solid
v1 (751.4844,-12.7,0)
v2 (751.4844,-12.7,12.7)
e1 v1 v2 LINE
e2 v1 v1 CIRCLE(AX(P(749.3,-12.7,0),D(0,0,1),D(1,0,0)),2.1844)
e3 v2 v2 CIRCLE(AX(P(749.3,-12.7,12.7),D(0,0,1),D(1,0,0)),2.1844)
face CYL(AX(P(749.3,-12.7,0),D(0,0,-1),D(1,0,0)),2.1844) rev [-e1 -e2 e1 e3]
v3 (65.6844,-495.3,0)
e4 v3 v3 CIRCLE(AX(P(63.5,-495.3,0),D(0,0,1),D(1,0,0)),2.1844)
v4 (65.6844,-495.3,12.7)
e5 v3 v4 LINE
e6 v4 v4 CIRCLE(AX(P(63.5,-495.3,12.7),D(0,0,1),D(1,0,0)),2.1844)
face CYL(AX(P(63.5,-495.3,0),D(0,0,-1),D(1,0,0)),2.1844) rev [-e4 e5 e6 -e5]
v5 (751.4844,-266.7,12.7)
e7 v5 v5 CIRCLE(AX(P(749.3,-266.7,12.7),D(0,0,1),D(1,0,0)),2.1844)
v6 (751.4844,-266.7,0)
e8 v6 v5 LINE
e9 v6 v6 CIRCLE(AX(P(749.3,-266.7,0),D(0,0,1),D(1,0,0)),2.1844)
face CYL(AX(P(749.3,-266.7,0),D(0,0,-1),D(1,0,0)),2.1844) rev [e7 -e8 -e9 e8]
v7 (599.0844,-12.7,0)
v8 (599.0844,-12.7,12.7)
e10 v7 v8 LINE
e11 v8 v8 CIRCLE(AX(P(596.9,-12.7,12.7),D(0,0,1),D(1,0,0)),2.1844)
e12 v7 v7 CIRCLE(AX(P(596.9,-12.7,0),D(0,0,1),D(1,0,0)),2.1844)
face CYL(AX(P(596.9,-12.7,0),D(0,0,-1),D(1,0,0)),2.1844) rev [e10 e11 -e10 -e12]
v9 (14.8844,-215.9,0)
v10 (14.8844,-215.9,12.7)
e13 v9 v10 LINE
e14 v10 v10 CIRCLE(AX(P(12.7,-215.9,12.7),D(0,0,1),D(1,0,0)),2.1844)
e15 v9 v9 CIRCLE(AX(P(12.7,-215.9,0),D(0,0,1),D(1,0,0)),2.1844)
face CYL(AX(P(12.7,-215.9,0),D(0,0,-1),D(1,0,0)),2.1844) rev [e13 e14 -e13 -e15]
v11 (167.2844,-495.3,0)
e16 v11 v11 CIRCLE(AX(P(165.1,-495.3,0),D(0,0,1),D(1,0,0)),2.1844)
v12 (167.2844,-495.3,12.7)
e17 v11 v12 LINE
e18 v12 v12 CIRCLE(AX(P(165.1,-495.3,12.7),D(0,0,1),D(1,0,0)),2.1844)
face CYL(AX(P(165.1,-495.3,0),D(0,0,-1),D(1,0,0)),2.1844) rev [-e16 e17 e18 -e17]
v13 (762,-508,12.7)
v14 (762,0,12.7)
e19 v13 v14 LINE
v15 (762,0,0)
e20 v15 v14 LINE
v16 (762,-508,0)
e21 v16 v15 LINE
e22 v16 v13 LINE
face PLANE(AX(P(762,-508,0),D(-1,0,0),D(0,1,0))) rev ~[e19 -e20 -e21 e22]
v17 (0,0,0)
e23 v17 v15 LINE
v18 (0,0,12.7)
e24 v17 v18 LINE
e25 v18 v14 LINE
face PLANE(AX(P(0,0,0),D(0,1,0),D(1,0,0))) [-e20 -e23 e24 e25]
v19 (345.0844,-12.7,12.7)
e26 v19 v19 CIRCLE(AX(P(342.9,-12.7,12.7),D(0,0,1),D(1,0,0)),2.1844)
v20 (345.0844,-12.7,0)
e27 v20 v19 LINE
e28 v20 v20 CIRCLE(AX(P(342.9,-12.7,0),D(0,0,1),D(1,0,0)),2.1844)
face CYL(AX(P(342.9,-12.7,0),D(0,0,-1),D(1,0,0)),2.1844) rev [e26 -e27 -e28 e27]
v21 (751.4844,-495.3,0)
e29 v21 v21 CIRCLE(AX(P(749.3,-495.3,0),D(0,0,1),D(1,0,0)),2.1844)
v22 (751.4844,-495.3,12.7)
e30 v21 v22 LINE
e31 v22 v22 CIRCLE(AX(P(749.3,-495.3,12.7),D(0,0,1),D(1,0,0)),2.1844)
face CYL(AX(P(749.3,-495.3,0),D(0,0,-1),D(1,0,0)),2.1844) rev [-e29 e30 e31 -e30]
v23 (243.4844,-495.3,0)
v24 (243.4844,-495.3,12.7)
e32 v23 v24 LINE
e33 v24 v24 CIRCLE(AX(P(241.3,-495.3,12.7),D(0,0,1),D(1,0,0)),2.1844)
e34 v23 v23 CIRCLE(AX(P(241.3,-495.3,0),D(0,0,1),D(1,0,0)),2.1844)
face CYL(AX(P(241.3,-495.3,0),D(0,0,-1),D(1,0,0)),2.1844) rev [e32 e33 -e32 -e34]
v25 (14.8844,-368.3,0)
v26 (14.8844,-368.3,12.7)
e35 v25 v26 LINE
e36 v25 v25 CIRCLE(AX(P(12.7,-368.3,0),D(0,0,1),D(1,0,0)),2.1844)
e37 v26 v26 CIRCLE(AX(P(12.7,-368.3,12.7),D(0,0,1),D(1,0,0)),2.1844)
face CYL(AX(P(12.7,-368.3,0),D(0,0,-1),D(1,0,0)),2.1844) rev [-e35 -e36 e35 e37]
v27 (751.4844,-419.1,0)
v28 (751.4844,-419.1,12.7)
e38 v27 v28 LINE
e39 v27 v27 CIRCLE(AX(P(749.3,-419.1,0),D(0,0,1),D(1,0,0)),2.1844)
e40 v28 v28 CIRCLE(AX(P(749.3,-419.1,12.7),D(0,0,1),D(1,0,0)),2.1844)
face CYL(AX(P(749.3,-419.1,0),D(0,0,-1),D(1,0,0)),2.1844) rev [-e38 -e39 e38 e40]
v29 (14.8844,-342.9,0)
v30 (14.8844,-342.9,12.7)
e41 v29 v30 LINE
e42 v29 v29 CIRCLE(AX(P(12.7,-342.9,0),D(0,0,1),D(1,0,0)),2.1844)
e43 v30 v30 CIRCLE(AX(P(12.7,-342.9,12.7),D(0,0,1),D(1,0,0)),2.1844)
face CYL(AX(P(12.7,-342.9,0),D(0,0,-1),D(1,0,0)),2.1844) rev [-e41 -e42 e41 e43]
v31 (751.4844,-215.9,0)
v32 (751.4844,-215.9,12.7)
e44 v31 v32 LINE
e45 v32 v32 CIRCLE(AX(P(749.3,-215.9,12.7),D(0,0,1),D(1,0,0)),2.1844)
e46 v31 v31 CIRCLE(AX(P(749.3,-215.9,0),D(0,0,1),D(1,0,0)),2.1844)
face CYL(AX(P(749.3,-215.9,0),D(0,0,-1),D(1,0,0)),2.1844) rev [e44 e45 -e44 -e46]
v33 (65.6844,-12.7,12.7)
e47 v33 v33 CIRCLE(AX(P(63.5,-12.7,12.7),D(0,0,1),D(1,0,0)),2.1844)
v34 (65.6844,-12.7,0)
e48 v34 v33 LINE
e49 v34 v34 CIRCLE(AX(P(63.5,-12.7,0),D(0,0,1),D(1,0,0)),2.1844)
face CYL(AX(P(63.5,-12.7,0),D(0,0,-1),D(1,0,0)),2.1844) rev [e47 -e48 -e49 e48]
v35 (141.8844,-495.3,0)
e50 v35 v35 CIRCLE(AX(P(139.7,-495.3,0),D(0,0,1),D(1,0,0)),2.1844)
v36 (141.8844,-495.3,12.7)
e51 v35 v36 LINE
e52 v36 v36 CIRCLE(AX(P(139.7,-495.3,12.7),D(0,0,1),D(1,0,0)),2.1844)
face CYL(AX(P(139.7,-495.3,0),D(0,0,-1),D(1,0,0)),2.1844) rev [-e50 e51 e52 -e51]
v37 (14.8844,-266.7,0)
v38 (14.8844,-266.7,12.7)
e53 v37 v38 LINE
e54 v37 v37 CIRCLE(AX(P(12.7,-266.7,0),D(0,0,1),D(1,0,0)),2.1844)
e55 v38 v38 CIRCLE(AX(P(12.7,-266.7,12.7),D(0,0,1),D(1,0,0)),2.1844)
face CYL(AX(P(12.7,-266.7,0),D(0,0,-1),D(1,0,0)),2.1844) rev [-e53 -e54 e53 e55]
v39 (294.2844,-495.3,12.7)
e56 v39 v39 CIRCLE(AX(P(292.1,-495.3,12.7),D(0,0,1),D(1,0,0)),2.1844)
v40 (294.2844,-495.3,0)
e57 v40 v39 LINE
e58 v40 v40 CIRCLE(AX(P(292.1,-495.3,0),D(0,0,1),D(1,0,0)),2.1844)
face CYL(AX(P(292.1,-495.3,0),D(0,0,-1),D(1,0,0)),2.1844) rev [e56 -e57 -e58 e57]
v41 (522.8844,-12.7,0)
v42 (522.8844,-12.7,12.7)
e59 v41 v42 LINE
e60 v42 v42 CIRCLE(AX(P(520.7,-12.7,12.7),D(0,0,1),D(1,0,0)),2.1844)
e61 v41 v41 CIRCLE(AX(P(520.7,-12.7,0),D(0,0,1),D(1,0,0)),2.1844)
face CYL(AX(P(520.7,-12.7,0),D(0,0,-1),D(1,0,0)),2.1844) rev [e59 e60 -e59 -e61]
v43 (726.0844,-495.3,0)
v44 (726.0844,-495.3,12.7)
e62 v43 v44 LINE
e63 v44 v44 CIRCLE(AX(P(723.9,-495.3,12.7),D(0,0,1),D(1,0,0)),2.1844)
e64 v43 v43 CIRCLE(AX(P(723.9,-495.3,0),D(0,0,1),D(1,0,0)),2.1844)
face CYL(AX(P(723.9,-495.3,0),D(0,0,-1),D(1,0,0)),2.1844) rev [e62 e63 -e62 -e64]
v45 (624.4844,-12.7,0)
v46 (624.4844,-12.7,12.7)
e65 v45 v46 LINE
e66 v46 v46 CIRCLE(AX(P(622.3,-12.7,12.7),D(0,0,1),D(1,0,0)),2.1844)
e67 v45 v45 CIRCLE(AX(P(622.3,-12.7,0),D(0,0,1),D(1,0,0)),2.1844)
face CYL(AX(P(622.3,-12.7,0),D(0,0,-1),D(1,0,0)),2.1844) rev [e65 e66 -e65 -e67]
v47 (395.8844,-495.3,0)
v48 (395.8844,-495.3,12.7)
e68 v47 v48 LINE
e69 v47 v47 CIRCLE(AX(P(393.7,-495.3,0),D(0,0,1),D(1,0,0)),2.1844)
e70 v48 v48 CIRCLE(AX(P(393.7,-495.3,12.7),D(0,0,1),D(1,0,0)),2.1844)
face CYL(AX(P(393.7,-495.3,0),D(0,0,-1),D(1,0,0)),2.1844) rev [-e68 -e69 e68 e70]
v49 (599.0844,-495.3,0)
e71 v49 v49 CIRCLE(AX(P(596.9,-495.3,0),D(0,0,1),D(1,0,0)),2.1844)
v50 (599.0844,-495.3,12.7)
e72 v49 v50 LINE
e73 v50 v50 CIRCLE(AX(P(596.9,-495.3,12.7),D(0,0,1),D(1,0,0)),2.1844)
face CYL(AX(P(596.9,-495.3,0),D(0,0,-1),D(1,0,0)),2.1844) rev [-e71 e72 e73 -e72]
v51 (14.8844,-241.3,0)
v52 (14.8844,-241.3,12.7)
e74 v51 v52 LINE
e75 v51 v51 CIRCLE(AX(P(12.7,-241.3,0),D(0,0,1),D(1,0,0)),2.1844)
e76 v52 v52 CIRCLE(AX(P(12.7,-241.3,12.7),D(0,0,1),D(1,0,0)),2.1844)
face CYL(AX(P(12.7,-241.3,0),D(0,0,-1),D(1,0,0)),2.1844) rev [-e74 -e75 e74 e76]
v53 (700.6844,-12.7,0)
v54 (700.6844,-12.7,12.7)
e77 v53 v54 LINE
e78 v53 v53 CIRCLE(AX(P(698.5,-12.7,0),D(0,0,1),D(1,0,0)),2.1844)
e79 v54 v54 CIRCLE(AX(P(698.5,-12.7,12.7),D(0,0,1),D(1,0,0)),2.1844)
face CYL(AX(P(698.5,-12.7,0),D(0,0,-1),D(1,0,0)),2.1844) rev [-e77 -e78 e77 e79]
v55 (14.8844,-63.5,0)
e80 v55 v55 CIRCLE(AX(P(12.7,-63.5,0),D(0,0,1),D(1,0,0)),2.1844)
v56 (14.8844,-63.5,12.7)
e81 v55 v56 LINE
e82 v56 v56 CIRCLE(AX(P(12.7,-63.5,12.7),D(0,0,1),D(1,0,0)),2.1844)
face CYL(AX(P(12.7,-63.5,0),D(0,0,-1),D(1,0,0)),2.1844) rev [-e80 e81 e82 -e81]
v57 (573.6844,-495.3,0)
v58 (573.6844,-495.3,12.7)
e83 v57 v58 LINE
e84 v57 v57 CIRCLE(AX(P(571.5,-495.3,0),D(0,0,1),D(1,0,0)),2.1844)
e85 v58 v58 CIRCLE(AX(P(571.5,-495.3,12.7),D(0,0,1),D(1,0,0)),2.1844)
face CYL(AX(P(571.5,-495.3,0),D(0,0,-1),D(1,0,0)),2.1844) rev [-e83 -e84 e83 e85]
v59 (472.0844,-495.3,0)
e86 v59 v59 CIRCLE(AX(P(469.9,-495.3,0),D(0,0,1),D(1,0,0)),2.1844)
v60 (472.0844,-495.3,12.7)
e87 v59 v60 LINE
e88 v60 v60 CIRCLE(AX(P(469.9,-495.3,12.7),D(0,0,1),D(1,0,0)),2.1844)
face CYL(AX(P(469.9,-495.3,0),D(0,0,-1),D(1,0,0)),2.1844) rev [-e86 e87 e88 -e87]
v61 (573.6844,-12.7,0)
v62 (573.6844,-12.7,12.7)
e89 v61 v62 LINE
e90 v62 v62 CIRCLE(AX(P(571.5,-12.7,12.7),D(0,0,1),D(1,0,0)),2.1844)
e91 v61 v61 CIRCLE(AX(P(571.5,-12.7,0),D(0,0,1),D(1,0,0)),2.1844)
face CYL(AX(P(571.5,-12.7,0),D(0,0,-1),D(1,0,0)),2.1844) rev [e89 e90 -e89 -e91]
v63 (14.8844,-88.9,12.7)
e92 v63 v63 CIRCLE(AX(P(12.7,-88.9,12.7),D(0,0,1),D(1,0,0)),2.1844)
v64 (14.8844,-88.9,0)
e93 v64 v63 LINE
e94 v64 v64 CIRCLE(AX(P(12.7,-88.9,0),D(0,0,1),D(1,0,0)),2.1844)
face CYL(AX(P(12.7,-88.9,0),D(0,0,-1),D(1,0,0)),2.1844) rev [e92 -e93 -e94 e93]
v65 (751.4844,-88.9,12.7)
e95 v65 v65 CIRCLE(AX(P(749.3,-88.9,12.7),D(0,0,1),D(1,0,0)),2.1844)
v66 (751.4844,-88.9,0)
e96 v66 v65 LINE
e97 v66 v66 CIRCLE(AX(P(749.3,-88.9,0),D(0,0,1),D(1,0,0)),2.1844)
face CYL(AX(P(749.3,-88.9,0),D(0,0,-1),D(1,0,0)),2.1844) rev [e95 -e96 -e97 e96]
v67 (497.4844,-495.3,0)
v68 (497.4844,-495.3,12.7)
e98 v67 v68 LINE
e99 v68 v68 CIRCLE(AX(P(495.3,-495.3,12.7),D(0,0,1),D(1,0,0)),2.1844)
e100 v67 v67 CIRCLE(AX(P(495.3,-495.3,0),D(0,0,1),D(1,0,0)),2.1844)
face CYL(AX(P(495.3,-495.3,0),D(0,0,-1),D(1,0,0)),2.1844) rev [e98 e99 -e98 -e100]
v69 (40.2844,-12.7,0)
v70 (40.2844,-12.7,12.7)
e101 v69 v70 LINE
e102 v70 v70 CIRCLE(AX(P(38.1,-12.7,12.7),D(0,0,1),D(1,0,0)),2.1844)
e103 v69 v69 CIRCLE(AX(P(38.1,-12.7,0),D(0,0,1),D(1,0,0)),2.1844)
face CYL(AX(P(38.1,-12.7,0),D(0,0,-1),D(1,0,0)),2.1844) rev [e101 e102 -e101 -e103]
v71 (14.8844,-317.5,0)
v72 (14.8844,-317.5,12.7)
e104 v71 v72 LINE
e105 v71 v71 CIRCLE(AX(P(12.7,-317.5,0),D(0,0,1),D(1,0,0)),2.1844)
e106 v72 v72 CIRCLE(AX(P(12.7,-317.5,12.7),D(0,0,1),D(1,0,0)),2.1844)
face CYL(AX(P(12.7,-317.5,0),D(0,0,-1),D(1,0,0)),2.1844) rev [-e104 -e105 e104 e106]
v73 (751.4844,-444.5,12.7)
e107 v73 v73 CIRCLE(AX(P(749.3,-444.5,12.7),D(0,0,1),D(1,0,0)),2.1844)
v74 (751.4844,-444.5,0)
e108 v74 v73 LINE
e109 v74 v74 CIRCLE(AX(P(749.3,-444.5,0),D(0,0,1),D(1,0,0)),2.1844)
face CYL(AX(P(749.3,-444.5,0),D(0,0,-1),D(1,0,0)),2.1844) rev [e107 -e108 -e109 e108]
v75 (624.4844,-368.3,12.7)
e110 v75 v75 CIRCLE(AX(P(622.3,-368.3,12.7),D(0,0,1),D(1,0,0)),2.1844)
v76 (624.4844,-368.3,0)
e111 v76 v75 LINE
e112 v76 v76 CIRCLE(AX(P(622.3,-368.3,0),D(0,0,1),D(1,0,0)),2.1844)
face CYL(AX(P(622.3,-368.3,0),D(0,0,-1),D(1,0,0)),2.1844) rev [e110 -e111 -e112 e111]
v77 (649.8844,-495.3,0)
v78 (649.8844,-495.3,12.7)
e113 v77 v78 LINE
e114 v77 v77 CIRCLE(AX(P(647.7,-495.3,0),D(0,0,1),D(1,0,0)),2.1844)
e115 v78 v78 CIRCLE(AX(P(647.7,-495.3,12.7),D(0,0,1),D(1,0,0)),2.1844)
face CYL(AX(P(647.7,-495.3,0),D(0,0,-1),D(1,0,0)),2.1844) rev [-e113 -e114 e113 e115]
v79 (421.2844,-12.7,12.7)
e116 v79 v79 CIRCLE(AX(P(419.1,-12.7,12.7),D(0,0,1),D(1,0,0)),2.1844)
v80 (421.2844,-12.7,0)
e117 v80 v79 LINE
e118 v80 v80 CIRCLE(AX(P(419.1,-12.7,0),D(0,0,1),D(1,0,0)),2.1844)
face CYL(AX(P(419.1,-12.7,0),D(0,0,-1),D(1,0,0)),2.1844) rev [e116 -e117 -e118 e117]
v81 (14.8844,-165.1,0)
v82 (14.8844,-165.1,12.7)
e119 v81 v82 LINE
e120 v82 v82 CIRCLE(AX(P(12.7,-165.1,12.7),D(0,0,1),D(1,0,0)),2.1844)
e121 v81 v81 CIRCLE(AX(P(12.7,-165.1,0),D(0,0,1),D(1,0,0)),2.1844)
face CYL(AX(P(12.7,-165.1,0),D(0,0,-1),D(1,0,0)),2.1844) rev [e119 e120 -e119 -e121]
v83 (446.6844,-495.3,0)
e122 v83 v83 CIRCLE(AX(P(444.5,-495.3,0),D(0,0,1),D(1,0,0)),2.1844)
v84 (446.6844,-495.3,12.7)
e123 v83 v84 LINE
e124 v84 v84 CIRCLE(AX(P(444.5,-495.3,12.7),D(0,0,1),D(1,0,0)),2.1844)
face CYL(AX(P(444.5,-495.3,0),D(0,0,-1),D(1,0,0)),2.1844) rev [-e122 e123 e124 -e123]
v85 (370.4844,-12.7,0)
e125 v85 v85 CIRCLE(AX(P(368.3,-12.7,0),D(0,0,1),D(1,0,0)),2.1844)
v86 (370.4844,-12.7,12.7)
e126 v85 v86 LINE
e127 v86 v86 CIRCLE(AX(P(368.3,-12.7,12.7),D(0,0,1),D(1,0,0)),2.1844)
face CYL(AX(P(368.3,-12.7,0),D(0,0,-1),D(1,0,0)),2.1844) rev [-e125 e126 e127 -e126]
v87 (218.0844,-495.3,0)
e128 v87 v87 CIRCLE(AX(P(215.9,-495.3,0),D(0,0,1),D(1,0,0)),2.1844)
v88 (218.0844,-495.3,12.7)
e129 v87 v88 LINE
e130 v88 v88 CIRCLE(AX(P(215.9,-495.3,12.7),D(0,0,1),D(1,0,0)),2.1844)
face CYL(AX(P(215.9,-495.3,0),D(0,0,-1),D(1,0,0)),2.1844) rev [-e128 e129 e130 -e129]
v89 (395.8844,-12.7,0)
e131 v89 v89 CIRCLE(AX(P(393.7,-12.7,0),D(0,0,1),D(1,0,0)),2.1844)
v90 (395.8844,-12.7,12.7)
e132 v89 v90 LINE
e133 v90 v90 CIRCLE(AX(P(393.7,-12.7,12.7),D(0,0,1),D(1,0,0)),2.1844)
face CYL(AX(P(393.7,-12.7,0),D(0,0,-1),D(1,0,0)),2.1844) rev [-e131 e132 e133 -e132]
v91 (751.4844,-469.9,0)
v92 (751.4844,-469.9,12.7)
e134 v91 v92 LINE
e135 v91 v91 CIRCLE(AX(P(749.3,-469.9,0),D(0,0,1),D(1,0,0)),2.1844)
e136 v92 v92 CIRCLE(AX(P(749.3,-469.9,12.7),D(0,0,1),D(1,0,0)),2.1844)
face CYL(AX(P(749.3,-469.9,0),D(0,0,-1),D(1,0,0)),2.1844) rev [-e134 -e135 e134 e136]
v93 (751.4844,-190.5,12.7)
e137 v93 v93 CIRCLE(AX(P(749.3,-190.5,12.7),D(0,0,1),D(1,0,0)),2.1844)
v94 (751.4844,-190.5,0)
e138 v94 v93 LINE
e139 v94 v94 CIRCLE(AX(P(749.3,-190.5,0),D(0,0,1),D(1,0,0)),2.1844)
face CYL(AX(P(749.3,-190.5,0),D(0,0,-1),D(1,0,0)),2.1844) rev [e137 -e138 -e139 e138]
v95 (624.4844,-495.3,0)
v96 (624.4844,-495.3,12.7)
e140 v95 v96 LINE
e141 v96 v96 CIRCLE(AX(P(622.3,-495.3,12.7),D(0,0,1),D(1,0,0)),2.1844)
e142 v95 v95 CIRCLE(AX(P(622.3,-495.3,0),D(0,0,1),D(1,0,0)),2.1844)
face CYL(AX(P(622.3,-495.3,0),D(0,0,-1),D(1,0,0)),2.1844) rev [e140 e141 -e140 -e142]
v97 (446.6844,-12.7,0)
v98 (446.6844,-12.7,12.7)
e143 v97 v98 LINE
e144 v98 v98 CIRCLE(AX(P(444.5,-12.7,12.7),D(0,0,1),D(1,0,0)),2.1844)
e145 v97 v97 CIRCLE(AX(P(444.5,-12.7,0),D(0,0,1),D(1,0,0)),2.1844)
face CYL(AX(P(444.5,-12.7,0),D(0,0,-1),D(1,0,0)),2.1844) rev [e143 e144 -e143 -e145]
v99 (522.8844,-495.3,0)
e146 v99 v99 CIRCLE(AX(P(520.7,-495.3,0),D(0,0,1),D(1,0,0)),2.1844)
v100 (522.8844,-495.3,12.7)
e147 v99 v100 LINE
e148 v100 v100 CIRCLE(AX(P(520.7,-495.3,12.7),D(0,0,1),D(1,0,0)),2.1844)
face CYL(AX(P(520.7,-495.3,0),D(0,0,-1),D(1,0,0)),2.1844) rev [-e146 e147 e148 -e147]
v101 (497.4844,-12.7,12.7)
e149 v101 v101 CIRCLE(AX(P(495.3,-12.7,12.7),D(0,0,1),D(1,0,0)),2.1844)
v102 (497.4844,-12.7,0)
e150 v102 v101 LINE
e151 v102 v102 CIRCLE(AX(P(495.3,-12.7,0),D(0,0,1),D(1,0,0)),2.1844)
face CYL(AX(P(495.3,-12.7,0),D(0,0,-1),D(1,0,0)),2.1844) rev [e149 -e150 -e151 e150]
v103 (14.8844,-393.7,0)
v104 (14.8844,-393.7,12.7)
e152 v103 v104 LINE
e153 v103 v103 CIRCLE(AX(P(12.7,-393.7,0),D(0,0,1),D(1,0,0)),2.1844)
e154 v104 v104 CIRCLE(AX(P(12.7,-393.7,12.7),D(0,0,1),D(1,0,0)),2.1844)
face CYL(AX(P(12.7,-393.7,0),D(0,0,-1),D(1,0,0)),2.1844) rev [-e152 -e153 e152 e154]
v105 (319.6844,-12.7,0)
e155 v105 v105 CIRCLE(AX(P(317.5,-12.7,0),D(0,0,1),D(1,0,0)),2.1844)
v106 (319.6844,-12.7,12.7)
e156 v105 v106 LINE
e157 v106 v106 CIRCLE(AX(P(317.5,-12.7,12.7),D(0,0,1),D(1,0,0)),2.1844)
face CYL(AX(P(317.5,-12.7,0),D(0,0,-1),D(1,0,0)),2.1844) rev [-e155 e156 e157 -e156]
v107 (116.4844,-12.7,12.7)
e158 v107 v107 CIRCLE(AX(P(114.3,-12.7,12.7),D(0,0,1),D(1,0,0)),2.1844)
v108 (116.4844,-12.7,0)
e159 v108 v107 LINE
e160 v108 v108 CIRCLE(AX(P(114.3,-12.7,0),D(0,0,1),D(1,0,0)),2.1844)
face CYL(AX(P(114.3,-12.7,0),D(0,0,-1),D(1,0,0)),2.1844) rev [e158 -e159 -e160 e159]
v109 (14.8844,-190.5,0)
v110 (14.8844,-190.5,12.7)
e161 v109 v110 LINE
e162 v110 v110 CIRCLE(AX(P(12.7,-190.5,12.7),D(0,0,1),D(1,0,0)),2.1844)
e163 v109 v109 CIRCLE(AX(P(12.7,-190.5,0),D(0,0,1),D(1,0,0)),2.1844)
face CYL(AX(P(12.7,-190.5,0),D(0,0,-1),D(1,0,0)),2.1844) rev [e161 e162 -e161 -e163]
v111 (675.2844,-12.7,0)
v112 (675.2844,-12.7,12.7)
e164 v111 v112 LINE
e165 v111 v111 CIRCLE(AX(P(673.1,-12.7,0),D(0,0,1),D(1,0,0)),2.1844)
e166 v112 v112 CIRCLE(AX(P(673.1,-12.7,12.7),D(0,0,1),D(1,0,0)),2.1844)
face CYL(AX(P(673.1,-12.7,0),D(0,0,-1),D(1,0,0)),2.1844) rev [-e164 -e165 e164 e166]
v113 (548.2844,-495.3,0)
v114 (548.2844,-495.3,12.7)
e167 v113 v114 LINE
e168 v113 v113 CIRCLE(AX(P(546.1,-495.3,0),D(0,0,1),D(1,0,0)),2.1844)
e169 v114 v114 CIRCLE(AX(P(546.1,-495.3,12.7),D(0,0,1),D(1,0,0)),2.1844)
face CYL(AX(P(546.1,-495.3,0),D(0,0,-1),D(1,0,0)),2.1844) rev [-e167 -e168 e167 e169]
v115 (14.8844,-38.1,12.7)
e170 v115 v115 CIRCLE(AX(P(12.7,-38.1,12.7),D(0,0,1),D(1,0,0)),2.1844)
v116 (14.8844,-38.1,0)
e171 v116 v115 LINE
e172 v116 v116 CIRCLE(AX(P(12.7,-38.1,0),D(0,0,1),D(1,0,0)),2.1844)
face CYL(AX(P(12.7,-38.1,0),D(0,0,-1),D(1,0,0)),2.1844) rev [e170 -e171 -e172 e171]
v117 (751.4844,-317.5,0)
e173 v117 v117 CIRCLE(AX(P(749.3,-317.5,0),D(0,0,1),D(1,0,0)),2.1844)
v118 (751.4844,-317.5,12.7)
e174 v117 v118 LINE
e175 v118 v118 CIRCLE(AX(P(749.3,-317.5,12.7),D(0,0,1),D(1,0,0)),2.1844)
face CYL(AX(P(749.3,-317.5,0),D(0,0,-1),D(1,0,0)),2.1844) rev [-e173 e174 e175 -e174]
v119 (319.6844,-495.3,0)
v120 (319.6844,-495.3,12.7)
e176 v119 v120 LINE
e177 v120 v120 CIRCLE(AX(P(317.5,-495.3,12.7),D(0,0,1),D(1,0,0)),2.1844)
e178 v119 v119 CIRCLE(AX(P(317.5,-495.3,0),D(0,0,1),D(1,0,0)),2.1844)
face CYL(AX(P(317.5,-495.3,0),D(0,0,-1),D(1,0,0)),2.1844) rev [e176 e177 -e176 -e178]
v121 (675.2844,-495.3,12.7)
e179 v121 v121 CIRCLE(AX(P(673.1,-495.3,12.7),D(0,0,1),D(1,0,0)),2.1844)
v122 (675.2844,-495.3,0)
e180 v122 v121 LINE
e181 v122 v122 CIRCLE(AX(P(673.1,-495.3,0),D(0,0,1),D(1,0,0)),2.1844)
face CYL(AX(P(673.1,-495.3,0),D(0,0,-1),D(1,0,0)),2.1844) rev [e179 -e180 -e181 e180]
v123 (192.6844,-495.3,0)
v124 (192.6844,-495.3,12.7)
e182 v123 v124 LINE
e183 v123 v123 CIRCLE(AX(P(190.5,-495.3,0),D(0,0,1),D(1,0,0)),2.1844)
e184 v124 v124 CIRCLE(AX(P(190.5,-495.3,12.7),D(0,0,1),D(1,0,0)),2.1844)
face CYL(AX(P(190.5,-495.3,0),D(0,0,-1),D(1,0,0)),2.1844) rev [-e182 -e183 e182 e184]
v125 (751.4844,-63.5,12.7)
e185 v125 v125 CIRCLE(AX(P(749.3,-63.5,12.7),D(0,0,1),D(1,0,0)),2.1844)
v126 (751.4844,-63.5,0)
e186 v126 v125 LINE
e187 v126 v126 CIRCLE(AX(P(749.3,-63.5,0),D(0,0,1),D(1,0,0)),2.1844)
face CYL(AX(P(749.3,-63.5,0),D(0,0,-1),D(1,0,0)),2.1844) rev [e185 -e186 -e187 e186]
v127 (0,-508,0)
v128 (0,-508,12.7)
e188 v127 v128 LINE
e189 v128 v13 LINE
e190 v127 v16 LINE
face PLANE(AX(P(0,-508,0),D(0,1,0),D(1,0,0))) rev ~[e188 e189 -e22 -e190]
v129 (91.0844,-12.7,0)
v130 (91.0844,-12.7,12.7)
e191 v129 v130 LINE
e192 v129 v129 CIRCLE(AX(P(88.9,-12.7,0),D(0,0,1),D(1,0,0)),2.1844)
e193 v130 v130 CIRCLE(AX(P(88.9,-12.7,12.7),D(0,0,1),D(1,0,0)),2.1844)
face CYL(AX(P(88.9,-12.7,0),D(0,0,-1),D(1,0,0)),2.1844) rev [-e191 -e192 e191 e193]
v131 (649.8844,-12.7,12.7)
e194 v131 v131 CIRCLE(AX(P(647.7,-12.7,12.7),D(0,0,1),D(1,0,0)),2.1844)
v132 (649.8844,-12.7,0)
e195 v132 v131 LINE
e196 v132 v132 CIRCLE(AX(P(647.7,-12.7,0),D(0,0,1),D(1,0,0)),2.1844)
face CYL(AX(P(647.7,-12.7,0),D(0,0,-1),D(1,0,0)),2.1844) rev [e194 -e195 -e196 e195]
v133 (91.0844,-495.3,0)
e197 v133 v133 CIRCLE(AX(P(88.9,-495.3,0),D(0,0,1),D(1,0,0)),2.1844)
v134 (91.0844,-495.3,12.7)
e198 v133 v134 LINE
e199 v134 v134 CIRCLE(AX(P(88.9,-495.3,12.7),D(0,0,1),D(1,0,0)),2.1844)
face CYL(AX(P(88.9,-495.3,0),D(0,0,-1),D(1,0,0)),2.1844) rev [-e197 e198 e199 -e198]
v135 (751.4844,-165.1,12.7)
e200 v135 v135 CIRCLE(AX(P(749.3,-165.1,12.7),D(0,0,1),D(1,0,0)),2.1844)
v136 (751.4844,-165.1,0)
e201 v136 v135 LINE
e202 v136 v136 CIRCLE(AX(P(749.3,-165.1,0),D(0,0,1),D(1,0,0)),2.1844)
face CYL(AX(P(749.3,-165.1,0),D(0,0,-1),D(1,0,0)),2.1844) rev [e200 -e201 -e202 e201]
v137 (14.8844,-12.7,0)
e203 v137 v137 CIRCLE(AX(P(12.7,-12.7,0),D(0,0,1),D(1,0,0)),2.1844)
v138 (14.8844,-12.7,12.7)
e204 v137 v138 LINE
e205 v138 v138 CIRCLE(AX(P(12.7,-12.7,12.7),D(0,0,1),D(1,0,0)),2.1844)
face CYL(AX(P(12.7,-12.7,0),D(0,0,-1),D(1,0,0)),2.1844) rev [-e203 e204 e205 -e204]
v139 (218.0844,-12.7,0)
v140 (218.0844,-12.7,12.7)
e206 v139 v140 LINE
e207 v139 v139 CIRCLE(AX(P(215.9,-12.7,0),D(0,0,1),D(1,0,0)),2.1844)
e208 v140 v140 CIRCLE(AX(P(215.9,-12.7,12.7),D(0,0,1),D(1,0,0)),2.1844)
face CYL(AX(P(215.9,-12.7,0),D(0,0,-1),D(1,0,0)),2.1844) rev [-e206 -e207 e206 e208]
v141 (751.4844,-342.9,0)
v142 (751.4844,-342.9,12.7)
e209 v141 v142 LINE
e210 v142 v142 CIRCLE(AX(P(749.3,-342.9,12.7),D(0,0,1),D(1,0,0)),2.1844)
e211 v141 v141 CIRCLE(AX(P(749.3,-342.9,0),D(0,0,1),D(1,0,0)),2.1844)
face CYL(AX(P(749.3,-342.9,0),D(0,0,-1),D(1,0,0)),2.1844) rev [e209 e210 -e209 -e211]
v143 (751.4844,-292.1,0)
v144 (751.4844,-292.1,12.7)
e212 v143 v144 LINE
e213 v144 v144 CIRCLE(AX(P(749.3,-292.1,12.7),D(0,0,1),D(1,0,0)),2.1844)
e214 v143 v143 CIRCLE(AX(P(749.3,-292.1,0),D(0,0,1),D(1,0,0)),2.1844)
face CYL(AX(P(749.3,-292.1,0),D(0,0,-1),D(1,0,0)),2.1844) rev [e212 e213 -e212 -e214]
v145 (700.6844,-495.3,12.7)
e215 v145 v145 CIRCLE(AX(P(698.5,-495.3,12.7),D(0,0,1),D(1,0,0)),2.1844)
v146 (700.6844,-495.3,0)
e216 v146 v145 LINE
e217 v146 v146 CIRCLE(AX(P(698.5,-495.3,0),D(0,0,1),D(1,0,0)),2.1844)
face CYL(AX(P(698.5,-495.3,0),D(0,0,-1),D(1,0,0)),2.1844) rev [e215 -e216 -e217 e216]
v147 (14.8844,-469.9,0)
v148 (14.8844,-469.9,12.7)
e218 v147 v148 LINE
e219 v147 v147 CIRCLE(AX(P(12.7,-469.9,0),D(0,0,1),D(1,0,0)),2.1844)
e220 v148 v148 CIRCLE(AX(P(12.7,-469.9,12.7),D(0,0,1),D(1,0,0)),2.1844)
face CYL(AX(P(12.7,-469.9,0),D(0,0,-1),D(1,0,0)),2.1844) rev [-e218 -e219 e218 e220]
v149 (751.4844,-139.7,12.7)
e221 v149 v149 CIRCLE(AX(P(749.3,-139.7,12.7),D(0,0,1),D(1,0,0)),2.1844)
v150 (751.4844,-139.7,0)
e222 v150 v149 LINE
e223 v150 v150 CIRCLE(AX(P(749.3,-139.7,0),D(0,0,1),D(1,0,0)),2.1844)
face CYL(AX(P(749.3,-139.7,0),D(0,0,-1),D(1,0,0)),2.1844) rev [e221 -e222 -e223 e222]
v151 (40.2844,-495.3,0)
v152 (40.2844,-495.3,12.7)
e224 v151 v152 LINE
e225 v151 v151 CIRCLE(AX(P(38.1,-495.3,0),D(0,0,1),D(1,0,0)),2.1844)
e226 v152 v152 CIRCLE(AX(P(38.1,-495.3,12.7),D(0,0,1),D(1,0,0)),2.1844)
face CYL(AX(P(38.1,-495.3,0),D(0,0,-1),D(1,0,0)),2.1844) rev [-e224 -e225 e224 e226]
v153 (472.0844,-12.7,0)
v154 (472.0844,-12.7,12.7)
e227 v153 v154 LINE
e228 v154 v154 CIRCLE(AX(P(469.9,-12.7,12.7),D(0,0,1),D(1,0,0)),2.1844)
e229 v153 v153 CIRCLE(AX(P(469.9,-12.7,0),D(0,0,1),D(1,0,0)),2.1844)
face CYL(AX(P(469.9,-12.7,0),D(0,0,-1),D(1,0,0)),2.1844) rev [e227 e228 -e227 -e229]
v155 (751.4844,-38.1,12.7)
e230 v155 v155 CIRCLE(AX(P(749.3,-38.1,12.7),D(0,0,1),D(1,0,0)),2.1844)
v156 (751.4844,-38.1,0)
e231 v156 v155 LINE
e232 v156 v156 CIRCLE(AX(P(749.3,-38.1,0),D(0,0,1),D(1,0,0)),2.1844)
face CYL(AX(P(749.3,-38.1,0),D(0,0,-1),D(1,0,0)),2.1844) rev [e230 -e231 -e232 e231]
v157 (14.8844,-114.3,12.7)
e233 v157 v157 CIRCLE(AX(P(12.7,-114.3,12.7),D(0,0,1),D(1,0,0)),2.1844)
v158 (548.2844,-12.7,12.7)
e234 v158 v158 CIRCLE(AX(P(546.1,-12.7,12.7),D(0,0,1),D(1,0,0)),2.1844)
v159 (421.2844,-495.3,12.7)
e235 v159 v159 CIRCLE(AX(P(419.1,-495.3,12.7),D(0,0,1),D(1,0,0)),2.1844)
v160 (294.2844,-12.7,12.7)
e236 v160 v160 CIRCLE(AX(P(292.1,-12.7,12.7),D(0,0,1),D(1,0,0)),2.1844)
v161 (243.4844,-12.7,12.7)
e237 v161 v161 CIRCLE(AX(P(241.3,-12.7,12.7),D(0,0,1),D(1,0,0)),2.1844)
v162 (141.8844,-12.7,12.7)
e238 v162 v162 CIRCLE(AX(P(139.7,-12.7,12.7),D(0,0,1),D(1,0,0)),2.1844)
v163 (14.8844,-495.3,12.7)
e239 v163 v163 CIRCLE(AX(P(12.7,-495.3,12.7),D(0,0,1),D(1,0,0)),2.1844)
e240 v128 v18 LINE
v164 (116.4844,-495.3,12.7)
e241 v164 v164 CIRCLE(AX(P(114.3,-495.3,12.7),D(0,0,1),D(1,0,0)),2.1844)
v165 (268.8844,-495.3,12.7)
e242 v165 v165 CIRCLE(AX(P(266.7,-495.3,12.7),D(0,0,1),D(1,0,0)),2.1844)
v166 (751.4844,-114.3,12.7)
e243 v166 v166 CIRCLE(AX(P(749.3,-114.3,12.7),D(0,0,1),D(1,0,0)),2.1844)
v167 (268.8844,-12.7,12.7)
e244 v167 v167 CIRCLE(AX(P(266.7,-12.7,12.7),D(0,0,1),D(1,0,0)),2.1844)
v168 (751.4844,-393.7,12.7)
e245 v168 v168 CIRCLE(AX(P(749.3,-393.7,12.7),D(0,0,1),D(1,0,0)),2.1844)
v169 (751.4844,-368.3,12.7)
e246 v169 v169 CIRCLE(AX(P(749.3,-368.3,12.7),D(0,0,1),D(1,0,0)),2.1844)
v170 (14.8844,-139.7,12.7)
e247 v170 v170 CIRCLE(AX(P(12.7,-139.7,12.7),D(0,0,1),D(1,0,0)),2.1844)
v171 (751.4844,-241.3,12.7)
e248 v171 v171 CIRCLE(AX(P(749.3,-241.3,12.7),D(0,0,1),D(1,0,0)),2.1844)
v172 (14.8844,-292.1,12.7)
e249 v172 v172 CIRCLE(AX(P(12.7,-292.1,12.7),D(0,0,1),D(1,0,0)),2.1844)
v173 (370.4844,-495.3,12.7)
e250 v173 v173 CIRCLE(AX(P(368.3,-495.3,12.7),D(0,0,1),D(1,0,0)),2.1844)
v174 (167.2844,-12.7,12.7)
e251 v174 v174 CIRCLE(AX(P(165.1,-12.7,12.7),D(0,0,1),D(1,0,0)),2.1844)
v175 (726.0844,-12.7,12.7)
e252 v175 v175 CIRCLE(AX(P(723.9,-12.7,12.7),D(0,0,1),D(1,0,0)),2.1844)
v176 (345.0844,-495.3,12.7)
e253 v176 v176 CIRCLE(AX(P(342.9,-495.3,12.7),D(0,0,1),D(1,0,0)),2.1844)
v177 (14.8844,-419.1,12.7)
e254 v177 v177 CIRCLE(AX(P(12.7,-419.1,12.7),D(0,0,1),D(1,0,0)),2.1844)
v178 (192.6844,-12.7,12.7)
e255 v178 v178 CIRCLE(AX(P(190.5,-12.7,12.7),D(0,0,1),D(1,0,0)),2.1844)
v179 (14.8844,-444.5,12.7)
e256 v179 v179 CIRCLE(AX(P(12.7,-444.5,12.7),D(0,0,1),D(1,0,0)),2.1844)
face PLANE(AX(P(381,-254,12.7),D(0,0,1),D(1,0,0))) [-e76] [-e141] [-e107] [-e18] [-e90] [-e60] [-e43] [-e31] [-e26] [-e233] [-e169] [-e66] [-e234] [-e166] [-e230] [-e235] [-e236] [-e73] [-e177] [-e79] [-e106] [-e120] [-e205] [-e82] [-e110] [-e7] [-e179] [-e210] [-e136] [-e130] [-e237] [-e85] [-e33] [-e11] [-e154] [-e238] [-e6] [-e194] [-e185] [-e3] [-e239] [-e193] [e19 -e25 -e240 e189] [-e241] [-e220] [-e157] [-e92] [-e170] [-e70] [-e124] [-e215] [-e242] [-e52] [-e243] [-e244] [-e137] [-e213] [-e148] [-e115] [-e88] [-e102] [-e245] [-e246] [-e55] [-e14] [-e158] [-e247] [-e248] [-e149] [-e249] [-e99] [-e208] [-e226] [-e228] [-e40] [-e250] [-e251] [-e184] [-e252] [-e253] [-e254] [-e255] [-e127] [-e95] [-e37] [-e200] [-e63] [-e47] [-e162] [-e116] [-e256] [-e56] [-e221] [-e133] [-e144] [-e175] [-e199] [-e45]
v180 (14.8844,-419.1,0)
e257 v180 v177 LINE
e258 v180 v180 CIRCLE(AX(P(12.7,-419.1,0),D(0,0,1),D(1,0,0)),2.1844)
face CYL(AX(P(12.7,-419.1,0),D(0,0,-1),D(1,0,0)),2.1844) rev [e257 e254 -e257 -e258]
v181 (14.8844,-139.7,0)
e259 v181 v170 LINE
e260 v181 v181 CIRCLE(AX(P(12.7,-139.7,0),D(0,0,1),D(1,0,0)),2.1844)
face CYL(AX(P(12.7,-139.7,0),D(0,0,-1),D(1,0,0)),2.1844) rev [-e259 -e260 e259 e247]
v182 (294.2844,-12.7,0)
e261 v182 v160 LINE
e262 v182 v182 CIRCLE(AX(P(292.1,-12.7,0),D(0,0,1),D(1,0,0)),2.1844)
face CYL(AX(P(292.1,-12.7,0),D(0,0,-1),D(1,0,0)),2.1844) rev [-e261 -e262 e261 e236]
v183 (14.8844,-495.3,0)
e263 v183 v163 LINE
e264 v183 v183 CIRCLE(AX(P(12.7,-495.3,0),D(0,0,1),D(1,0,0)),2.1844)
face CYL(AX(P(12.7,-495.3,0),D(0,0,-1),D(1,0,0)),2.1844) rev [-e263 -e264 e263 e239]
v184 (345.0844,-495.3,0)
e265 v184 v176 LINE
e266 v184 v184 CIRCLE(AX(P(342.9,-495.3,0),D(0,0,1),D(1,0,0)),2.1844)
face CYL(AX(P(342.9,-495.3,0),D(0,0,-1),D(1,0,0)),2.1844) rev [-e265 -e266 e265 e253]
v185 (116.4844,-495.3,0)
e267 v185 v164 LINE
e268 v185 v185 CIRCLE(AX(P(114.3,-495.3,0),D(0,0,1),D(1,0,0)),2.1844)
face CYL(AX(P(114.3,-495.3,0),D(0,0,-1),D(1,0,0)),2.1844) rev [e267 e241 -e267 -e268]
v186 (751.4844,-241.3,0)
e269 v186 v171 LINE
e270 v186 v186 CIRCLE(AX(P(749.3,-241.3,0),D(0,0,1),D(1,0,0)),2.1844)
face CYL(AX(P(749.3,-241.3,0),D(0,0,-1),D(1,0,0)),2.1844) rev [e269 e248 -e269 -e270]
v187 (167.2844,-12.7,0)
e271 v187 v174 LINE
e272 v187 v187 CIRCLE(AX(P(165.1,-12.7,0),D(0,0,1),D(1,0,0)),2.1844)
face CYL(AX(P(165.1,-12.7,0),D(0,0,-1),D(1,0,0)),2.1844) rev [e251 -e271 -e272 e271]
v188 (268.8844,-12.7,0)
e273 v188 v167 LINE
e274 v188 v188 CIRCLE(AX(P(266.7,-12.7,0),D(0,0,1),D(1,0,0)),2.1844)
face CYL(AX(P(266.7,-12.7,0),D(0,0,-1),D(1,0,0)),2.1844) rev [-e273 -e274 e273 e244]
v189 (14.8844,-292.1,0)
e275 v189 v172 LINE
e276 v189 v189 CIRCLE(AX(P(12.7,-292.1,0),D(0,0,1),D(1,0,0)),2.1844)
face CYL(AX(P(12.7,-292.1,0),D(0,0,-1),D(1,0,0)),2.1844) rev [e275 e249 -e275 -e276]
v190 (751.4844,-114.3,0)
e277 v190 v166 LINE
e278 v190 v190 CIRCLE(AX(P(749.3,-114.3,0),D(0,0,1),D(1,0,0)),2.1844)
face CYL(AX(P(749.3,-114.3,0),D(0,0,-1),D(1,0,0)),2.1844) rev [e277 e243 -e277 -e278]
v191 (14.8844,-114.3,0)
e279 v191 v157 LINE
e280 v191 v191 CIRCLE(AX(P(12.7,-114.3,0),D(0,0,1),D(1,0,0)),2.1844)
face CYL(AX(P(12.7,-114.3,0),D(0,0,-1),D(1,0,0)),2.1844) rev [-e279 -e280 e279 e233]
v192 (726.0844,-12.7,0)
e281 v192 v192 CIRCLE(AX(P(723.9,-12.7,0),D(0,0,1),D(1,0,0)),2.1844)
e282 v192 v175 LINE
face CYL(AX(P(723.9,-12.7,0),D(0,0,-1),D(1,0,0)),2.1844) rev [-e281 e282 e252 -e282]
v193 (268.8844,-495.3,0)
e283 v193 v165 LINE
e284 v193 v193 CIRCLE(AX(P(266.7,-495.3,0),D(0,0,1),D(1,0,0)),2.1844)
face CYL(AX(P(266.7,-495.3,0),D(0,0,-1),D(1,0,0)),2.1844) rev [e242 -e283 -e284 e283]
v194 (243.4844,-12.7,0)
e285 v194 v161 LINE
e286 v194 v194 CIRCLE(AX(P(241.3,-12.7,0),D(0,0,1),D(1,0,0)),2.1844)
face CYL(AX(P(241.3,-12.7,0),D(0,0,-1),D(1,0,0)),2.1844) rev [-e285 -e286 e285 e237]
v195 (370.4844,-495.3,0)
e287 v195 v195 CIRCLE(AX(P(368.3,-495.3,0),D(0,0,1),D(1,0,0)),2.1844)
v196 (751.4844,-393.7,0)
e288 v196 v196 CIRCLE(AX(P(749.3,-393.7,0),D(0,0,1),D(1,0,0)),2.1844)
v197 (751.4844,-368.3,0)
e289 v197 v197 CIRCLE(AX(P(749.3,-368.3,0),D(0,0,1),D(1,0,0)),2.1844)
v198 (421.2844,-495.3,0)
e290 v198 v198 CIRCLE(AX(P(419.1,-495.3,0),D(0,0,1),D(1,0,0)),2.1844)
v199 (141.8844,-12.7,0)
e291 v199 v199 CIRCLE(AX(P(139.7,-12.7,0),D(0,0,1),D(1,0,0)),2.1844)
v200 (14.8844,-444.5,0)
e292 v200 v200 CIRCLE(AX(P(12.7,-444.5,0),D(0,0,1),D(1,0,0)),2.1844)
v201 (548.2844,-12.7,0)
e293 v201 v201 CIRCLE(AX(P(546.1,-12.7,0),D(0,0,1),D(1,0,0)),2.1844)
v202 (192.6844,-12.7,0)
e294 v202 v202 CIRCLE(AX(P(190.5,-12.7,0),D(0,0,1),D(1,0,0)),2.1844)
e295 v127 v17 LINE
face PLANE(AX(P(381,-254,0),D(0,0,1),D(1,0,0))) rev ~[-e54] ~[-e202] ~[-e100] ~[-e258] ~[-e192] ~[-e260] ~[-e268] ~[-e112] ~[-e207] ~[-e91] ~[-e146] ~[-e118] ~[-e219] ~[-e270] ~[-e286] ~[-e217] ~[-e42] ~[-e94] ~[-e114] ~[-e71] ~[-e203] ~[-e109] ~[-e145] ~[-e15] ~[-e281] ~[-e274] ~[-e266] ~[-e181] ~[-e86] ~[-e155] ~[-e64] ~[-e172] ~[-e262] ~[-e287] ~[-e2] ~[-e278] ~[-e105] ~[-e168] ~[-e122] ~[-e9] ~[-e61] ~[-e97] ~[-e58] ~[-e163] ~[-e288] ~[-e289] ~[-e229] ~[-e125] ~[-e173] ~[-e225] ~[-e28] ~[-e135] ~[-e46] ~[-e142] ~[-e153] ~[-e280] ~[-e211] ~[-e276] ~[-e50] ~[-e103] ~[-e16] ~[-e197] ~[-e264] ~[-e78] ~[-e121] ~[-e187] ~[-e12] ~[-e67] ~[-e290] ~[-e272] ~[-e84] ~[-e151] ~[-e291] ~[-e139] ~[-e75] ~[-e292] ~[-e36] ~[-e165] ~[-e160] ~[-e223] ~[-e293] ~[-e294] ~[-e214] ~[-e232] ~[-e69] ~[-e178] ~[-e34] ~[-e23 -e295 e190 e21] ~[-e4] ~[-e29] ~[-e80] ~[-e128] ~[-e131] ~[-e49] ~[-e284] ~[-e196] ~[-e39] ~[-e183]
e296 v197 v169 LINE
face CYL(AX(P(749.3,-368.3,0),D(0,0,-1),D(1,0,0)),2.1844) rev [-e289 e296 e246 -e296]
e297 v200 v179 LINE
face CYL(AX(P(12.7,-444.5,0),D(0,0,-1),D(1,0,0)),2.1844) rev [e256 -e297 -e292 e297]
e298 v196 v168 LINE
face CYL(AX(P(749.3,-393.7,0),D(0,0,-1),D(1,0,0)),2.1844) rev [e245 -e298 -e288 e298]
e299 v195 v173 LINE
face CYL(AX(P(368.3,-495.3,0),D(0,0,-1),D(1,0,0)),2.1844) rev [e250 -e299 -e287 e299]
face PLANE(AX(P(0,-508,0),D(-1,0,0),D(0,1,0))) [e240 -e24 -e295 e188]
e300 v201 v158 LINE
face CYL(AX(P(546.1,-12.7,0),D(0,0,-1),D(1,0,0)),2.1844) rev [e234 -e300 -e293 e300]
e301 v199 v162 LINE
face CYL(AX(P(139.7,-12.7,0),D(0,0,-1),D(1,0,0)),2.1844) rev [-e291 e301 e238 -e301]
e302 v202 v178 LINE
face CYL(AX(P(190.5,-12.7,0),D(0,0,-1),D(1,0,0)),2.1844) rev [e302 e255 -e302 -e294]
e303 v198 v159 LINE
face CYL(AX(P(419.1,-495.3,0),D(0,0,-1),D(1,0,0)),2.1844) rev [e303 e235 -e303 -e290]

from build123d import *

# Parameters (mm, degrees)
F0_W     = 762
F0_H     = 508
F0_R     = 2.1844
F1_DEPTH = 12.7


with BuildPart() as f1:
    # F0 (on Top) → F1 (new body)
    with BuildSketch(Plane.XY):
        with Locations((381, -254)):
            Rectangle(F0_W, F0_H)
        with Locations((12.7, -495.3)):
            Circle(F0_R, mode=Mode.SUBTRACT)
        with Locations((38.1, -495.3)):
            Circle(F0_R, mode=Mode.SUBTRACT)
        with Locations((63.5, -495.3)):
            Circle(F0_R, mode=Mode.SUBTRACT)
        with Locations((88.9, -495.3)):
            Circle(F0_R, mode=Mode.SUBTRACT)
        with Locations((12.7, -469.9)):
            Circle(F0_R, mode=Mode.SUBTRACT)
        with Locations((114.3, -495.3)):
            Circle(F0_R, mode=Mode.SUBTRACT)
        with Locations((139.7, -495.3)):
            Circle(F0_R, mode=Mode.SUBTRACT)
        with Locations((165.1, -495.3)):
            Circle(F0_R, mode=Mode.SUBTRACT)
        with Locations((12.7, -444.5)):
            Circle(F0_R, mode=Mode.SUBTRACT)
        with Locations((12.7, -419.1)):
            Circle(F0_R, mode=Mode.SUBTRACT)
        with Locations((12.7, -393.7)):
            Circle(F0_R, mode=Mode.SUBTRACT)
        with Locations((190.5, -495.3)):
            Circle(F0_R, mode=Mode.SUBTRACT)
        with Locations((215.9, -495.3)):
            Circle(F0_R, mode=Mode.SUBTRACT)
        with Locations((241.3, -495.3)):
            Circle(F0_R, mode=Mode.SUBTRACT)
        with Locations((266.7, -495.3)):
            Circle(F0_R, mode=Mode.SUBTRACT)
        with Locations((292.1, -495.3)):
            Circle(F0_R, mode=Mode.SUBTRACT)
        with Locations((317.5, -495.3)):
            Circle(F0_R, mode=Mode.SUBTRACT)
        with Locations((342.9, -495.3)):
            Circle(F0_R, mode=Mode.SUBTRACT)
        with Locations((368.3, -495.3)):
            Circle(F0_R, mode=Mode.SUBTRACT)
        with Locations((12.7, -368.3)):
            Circle(F0_R, mode=Mode.SUBTRACT)
        with Locations((12.7, -342.9)):
            Circle(F0_R, mode=Mode.SUBTRACT)
        with Locations((12.7, -317.5)):
            Circle(F0_R, mode=Mode.SUBTRACT)
        with Locations((12.7, -292.1)):
            Circle(F0_R, mode=Mode.SUBTRACT)
        with Locations((12.7, -266.7)):
            Circle(F0_R, mode=Mode.SUBTRACT)
        with Locations((393.7, -495.3)):
            Circle(F0_R, mode=Mode.SUBTRACT)
        with Locations((419.1, -495.3)):
            Circle(F0_R, mode=Mode.SUBTRACT)
        with Locations((444.5, -495.3)):
            Circle(F0_R, mode=Mode.SUBTRACT)
        with Locations((469.9, -495.3)):
            Circle(F0_R, mode=Mode.SUBTRACT)
        with Locations((495.3, -495.3)):
            Circle(F0_R, mode=Mode.SUBTRACT)
        with Locations((520.7, -495.3)):
            Circle(F0_R, mode=Mode.SUBTRACT)
        with Locations((546.1, -495.3)):
            Circle(F0_R, mode=Mode.SUBTRACT)
        with Locations((571.5, -495.3)):
            Circle(F0_R, mode=Mode.SUBTRACT)
        with Locations((596.9, -495.3)):
            Circle(F0_R, mode=Mode.SUBTRACT)
        with Locations((622.3, -495.3)):
            Circle(F0_R, mode=Mode.SUBTRACT)
        with Locations((647.7, -495.3)):
            Circle(F0_R, mode=Mode.SUBTRACT)
        with Locations((673.1, -495.3)):
            Circle(F0_R, mode=Mode.SUBTRACT)
        with Locations((698.5, -495.3)):
            Circle(F0_R, mode=Mode.SUBTRACT)
        with Locations((723.9, -495.3)):
            Circle(F0_R, mode=Mode.SUBTRACT)
        with Locations((749.3, -495.3)):
            Circle(F0_R, mode=Mode.SUBTRACT)
        with Locations((749.3, -469.9)):
            Circle(F0_R, mode=Mode.SUBTRACT)
        with Locations((749.3, -444.5)):
            Circle(F0_R, mode=Mode.SUBTRACT)
        with Locations((749.3, -419.1)):
            Circle(F0_R, mode=Mode.SUBTRACT)
        with Locations((749.3, -393.7)):
            Circle(F0_R, mode=Mode.SUBTRACT)
        with Locations((622.3, -368.3)):
            Circle(F0_R, mode=Mode.SUBTRACT)
        with Locations((749.3, -368.3)):
            Circle(F0_R, mode=Mode.SUBTRACT)
        with Locations((749.3, -342.9)):
            Circle(F0_R, mode=Mode.SUBTRACT)
        with Locations((749.3, -317.5)):
            Circle(F0_R, mode=Mode.SUBTRACT)
        with Locations((749.3, -292.1)):
            Circle(F0_R, mode=Mode.SUBTRACT)
        with Locations((749.3, -266.7)):
            Circle(F0_R, mode=Mode.SUBTRACT)
        with Locations((12.7, -241.3)):
            Circle(F0_R, mode=Mode.SUBTRACT)
        with Locations((12.7, -215.9)):
            Circle(F0_R, mode=Mode.SUBTRACT)
        with Locations((12.7, -190.5)):
            Circle(F0_R, mode=Mode.SUBTRACT)
        with Locations((12.7, -165.1)):
            Circle(F0_R, mode=Mode.SUBTRACT)
        with Locations((12.7, -139.7)):
            Circle(F0_R, mode=Mode.SUBTRACT)
        with Locations((12.7, -114.3)):
            Circle(F0_R, mode=Mode.SUBTRACT)
        with Locations((12.7, -88.9)):
            Circle(F0_R, mode=Mode.SUBTRACT)
        with Locations((12.7, -63.5)):
            Circle(F0_R, mode=Mode.SUBTRACT)
        with Locations((12.7, -38.1)):
            Circle(F0_R, mode=Mode.SUBTRACT)
        with Locations((12.7, -12.7)):
            Circle(F0_R, mode=Mode.SUBTRACT)
        with Locations((38.1, -12.7)):
            Circle(F0_R, mode=Mode.SUBTRACT)
        with Locations((63.5, -12.7)):
            Circle(F0_R, mode=Mode.SUBTRACT)
        with Locations((88.9, -12.7)):
            Circle(F0_R, mode=Mode.SUBTRACT)
        with Locations((114.3, -12.7)):
            Circle(F0_R, mode=Mode.SUBTRACT)
        with Locations((139.7, -12.7)):
            Circle(F0_R, mode=Mode.SUBTRACT)
        with Locations((165.1, -12.7)):
            Circle(F0_R, mode=Mode.SUBTRACT)
        with Locations((190.5, -12.7)):
            Circle(F0_R, mode=Mode.SUBTRACT)
        with Locations((215.9, -12.7)):
            Circle(F0_R, mode=Mode.SUBTRACT)
        with Locations((241.3, -12.7)):
            Circle(F0_R, mode=Mode.SUBTRACT)
        with Locations((266.7, -12.7)):
            Circle(F0_R, mode=Mode.SUBTRACT)
        with Locations((292.1, -12.7)):
            Circle(F0_R, mode=Mode.SUBTRACT)
        with Locations((317.5, -12.7)):
            Circle(F0_R, mode=Mode.SUBTRACT)
        with Locations((342.9, -12.7)):
            Circle(F0_R, mode=Mode.SUBTRACT)
        with Locations((368.3, -12.7)):
            Circle(F0_R, mode=Mode.SUBTRACT)
        with Locations((749.3, -241.3)):
            Circle(F0_R, mode=Mode.SUBTRACT)
        with Locations((749.3, -215.9)):
            Circle(F0_R, mode=Mode.SUBTRACT)
        with Locations((749.3, -190.5)):
            Circle(F0_R, mode=Mode.SUBTRACT)
        with Locations((749.3, -165.1)):
            Circle(F0_R, mode=Mode.SUBTRACT)
        with Locations((749.3, -139.7)):
            Circle(F0_R, mode=Mode.SUBTRACT)
        with Locations((393.7, -12.7)):
            Circle(F0_R, mode=Mode.SUBTRACT)
        with Locations((419.1, -12.7)):
            Circle(F0_R, mode=Mode.SUBTRACT)
        with Locations((444.5, -12.7)):
            Circle(F0_R, mode=Mode.SUBTRACT)
        with Locations((469.9, -12.7)):
            Circle(F0_R, mode=Mode.SUBTRACT)
        with Locations((495.3, -12.7)):
            Circle(F0_R, mode=Mode.SUBTRACT)
        with Locations((520.7, -12.7)):
            Circle(F0_R, mode=Mode.SUBTRACT)
        with Locations((546.1, -12.7)):
            Circle(F0_R, mode=Mode.SUBTRACT)
        with Locations((749.3, -114.3)):
            Circle(F0_R, mode=Mode.SUBTRACT)
        with Locations((749.3, -88.9)):
            Circle(F0_R, mode=Mode.SUBTRACT)
        with Locations((571.5, -12.7)):
            Circle(F0_R, mode=Mode.SUBTRACT)
        with Locations((596.9, -12.7)):
            Circle(F0_R, mode=Mode.SUBTRACT)
        with Locations((622.3, -12.7)):
            Circle(F0_R, mode=Mode.SUBTRACT)
        with Locations((647.7, -12.7)):
            Circle(F0_R, mode=Mode.SUBTRACT)
        with Locations((749.3, -63.5)):
            Circle(F0_R, mode=Mode.SUBTRACT)
        with Locations((749.3, -38.1)):
            Circle(F0_R, mode=Mode.SUBTRACT)
        with Locations((673.1, -12.7)):
            Circle(F0_R, mode=Mode.SUBTRACT)
        with Locations((698.5, -12.7)):
            Circle(F0_R, mode=Mode.SUBTRACT)
        with Locations((723.9, -12.7)):
            Circle(F0_R, mode=Mode.SUBTRACT)
        with Locations((749.3, -12.7)):
            Circle(F0_R, mode=Mode.SUBTRACT)
    extrude(amount=F1_DEPTH)


solid = f1.part
